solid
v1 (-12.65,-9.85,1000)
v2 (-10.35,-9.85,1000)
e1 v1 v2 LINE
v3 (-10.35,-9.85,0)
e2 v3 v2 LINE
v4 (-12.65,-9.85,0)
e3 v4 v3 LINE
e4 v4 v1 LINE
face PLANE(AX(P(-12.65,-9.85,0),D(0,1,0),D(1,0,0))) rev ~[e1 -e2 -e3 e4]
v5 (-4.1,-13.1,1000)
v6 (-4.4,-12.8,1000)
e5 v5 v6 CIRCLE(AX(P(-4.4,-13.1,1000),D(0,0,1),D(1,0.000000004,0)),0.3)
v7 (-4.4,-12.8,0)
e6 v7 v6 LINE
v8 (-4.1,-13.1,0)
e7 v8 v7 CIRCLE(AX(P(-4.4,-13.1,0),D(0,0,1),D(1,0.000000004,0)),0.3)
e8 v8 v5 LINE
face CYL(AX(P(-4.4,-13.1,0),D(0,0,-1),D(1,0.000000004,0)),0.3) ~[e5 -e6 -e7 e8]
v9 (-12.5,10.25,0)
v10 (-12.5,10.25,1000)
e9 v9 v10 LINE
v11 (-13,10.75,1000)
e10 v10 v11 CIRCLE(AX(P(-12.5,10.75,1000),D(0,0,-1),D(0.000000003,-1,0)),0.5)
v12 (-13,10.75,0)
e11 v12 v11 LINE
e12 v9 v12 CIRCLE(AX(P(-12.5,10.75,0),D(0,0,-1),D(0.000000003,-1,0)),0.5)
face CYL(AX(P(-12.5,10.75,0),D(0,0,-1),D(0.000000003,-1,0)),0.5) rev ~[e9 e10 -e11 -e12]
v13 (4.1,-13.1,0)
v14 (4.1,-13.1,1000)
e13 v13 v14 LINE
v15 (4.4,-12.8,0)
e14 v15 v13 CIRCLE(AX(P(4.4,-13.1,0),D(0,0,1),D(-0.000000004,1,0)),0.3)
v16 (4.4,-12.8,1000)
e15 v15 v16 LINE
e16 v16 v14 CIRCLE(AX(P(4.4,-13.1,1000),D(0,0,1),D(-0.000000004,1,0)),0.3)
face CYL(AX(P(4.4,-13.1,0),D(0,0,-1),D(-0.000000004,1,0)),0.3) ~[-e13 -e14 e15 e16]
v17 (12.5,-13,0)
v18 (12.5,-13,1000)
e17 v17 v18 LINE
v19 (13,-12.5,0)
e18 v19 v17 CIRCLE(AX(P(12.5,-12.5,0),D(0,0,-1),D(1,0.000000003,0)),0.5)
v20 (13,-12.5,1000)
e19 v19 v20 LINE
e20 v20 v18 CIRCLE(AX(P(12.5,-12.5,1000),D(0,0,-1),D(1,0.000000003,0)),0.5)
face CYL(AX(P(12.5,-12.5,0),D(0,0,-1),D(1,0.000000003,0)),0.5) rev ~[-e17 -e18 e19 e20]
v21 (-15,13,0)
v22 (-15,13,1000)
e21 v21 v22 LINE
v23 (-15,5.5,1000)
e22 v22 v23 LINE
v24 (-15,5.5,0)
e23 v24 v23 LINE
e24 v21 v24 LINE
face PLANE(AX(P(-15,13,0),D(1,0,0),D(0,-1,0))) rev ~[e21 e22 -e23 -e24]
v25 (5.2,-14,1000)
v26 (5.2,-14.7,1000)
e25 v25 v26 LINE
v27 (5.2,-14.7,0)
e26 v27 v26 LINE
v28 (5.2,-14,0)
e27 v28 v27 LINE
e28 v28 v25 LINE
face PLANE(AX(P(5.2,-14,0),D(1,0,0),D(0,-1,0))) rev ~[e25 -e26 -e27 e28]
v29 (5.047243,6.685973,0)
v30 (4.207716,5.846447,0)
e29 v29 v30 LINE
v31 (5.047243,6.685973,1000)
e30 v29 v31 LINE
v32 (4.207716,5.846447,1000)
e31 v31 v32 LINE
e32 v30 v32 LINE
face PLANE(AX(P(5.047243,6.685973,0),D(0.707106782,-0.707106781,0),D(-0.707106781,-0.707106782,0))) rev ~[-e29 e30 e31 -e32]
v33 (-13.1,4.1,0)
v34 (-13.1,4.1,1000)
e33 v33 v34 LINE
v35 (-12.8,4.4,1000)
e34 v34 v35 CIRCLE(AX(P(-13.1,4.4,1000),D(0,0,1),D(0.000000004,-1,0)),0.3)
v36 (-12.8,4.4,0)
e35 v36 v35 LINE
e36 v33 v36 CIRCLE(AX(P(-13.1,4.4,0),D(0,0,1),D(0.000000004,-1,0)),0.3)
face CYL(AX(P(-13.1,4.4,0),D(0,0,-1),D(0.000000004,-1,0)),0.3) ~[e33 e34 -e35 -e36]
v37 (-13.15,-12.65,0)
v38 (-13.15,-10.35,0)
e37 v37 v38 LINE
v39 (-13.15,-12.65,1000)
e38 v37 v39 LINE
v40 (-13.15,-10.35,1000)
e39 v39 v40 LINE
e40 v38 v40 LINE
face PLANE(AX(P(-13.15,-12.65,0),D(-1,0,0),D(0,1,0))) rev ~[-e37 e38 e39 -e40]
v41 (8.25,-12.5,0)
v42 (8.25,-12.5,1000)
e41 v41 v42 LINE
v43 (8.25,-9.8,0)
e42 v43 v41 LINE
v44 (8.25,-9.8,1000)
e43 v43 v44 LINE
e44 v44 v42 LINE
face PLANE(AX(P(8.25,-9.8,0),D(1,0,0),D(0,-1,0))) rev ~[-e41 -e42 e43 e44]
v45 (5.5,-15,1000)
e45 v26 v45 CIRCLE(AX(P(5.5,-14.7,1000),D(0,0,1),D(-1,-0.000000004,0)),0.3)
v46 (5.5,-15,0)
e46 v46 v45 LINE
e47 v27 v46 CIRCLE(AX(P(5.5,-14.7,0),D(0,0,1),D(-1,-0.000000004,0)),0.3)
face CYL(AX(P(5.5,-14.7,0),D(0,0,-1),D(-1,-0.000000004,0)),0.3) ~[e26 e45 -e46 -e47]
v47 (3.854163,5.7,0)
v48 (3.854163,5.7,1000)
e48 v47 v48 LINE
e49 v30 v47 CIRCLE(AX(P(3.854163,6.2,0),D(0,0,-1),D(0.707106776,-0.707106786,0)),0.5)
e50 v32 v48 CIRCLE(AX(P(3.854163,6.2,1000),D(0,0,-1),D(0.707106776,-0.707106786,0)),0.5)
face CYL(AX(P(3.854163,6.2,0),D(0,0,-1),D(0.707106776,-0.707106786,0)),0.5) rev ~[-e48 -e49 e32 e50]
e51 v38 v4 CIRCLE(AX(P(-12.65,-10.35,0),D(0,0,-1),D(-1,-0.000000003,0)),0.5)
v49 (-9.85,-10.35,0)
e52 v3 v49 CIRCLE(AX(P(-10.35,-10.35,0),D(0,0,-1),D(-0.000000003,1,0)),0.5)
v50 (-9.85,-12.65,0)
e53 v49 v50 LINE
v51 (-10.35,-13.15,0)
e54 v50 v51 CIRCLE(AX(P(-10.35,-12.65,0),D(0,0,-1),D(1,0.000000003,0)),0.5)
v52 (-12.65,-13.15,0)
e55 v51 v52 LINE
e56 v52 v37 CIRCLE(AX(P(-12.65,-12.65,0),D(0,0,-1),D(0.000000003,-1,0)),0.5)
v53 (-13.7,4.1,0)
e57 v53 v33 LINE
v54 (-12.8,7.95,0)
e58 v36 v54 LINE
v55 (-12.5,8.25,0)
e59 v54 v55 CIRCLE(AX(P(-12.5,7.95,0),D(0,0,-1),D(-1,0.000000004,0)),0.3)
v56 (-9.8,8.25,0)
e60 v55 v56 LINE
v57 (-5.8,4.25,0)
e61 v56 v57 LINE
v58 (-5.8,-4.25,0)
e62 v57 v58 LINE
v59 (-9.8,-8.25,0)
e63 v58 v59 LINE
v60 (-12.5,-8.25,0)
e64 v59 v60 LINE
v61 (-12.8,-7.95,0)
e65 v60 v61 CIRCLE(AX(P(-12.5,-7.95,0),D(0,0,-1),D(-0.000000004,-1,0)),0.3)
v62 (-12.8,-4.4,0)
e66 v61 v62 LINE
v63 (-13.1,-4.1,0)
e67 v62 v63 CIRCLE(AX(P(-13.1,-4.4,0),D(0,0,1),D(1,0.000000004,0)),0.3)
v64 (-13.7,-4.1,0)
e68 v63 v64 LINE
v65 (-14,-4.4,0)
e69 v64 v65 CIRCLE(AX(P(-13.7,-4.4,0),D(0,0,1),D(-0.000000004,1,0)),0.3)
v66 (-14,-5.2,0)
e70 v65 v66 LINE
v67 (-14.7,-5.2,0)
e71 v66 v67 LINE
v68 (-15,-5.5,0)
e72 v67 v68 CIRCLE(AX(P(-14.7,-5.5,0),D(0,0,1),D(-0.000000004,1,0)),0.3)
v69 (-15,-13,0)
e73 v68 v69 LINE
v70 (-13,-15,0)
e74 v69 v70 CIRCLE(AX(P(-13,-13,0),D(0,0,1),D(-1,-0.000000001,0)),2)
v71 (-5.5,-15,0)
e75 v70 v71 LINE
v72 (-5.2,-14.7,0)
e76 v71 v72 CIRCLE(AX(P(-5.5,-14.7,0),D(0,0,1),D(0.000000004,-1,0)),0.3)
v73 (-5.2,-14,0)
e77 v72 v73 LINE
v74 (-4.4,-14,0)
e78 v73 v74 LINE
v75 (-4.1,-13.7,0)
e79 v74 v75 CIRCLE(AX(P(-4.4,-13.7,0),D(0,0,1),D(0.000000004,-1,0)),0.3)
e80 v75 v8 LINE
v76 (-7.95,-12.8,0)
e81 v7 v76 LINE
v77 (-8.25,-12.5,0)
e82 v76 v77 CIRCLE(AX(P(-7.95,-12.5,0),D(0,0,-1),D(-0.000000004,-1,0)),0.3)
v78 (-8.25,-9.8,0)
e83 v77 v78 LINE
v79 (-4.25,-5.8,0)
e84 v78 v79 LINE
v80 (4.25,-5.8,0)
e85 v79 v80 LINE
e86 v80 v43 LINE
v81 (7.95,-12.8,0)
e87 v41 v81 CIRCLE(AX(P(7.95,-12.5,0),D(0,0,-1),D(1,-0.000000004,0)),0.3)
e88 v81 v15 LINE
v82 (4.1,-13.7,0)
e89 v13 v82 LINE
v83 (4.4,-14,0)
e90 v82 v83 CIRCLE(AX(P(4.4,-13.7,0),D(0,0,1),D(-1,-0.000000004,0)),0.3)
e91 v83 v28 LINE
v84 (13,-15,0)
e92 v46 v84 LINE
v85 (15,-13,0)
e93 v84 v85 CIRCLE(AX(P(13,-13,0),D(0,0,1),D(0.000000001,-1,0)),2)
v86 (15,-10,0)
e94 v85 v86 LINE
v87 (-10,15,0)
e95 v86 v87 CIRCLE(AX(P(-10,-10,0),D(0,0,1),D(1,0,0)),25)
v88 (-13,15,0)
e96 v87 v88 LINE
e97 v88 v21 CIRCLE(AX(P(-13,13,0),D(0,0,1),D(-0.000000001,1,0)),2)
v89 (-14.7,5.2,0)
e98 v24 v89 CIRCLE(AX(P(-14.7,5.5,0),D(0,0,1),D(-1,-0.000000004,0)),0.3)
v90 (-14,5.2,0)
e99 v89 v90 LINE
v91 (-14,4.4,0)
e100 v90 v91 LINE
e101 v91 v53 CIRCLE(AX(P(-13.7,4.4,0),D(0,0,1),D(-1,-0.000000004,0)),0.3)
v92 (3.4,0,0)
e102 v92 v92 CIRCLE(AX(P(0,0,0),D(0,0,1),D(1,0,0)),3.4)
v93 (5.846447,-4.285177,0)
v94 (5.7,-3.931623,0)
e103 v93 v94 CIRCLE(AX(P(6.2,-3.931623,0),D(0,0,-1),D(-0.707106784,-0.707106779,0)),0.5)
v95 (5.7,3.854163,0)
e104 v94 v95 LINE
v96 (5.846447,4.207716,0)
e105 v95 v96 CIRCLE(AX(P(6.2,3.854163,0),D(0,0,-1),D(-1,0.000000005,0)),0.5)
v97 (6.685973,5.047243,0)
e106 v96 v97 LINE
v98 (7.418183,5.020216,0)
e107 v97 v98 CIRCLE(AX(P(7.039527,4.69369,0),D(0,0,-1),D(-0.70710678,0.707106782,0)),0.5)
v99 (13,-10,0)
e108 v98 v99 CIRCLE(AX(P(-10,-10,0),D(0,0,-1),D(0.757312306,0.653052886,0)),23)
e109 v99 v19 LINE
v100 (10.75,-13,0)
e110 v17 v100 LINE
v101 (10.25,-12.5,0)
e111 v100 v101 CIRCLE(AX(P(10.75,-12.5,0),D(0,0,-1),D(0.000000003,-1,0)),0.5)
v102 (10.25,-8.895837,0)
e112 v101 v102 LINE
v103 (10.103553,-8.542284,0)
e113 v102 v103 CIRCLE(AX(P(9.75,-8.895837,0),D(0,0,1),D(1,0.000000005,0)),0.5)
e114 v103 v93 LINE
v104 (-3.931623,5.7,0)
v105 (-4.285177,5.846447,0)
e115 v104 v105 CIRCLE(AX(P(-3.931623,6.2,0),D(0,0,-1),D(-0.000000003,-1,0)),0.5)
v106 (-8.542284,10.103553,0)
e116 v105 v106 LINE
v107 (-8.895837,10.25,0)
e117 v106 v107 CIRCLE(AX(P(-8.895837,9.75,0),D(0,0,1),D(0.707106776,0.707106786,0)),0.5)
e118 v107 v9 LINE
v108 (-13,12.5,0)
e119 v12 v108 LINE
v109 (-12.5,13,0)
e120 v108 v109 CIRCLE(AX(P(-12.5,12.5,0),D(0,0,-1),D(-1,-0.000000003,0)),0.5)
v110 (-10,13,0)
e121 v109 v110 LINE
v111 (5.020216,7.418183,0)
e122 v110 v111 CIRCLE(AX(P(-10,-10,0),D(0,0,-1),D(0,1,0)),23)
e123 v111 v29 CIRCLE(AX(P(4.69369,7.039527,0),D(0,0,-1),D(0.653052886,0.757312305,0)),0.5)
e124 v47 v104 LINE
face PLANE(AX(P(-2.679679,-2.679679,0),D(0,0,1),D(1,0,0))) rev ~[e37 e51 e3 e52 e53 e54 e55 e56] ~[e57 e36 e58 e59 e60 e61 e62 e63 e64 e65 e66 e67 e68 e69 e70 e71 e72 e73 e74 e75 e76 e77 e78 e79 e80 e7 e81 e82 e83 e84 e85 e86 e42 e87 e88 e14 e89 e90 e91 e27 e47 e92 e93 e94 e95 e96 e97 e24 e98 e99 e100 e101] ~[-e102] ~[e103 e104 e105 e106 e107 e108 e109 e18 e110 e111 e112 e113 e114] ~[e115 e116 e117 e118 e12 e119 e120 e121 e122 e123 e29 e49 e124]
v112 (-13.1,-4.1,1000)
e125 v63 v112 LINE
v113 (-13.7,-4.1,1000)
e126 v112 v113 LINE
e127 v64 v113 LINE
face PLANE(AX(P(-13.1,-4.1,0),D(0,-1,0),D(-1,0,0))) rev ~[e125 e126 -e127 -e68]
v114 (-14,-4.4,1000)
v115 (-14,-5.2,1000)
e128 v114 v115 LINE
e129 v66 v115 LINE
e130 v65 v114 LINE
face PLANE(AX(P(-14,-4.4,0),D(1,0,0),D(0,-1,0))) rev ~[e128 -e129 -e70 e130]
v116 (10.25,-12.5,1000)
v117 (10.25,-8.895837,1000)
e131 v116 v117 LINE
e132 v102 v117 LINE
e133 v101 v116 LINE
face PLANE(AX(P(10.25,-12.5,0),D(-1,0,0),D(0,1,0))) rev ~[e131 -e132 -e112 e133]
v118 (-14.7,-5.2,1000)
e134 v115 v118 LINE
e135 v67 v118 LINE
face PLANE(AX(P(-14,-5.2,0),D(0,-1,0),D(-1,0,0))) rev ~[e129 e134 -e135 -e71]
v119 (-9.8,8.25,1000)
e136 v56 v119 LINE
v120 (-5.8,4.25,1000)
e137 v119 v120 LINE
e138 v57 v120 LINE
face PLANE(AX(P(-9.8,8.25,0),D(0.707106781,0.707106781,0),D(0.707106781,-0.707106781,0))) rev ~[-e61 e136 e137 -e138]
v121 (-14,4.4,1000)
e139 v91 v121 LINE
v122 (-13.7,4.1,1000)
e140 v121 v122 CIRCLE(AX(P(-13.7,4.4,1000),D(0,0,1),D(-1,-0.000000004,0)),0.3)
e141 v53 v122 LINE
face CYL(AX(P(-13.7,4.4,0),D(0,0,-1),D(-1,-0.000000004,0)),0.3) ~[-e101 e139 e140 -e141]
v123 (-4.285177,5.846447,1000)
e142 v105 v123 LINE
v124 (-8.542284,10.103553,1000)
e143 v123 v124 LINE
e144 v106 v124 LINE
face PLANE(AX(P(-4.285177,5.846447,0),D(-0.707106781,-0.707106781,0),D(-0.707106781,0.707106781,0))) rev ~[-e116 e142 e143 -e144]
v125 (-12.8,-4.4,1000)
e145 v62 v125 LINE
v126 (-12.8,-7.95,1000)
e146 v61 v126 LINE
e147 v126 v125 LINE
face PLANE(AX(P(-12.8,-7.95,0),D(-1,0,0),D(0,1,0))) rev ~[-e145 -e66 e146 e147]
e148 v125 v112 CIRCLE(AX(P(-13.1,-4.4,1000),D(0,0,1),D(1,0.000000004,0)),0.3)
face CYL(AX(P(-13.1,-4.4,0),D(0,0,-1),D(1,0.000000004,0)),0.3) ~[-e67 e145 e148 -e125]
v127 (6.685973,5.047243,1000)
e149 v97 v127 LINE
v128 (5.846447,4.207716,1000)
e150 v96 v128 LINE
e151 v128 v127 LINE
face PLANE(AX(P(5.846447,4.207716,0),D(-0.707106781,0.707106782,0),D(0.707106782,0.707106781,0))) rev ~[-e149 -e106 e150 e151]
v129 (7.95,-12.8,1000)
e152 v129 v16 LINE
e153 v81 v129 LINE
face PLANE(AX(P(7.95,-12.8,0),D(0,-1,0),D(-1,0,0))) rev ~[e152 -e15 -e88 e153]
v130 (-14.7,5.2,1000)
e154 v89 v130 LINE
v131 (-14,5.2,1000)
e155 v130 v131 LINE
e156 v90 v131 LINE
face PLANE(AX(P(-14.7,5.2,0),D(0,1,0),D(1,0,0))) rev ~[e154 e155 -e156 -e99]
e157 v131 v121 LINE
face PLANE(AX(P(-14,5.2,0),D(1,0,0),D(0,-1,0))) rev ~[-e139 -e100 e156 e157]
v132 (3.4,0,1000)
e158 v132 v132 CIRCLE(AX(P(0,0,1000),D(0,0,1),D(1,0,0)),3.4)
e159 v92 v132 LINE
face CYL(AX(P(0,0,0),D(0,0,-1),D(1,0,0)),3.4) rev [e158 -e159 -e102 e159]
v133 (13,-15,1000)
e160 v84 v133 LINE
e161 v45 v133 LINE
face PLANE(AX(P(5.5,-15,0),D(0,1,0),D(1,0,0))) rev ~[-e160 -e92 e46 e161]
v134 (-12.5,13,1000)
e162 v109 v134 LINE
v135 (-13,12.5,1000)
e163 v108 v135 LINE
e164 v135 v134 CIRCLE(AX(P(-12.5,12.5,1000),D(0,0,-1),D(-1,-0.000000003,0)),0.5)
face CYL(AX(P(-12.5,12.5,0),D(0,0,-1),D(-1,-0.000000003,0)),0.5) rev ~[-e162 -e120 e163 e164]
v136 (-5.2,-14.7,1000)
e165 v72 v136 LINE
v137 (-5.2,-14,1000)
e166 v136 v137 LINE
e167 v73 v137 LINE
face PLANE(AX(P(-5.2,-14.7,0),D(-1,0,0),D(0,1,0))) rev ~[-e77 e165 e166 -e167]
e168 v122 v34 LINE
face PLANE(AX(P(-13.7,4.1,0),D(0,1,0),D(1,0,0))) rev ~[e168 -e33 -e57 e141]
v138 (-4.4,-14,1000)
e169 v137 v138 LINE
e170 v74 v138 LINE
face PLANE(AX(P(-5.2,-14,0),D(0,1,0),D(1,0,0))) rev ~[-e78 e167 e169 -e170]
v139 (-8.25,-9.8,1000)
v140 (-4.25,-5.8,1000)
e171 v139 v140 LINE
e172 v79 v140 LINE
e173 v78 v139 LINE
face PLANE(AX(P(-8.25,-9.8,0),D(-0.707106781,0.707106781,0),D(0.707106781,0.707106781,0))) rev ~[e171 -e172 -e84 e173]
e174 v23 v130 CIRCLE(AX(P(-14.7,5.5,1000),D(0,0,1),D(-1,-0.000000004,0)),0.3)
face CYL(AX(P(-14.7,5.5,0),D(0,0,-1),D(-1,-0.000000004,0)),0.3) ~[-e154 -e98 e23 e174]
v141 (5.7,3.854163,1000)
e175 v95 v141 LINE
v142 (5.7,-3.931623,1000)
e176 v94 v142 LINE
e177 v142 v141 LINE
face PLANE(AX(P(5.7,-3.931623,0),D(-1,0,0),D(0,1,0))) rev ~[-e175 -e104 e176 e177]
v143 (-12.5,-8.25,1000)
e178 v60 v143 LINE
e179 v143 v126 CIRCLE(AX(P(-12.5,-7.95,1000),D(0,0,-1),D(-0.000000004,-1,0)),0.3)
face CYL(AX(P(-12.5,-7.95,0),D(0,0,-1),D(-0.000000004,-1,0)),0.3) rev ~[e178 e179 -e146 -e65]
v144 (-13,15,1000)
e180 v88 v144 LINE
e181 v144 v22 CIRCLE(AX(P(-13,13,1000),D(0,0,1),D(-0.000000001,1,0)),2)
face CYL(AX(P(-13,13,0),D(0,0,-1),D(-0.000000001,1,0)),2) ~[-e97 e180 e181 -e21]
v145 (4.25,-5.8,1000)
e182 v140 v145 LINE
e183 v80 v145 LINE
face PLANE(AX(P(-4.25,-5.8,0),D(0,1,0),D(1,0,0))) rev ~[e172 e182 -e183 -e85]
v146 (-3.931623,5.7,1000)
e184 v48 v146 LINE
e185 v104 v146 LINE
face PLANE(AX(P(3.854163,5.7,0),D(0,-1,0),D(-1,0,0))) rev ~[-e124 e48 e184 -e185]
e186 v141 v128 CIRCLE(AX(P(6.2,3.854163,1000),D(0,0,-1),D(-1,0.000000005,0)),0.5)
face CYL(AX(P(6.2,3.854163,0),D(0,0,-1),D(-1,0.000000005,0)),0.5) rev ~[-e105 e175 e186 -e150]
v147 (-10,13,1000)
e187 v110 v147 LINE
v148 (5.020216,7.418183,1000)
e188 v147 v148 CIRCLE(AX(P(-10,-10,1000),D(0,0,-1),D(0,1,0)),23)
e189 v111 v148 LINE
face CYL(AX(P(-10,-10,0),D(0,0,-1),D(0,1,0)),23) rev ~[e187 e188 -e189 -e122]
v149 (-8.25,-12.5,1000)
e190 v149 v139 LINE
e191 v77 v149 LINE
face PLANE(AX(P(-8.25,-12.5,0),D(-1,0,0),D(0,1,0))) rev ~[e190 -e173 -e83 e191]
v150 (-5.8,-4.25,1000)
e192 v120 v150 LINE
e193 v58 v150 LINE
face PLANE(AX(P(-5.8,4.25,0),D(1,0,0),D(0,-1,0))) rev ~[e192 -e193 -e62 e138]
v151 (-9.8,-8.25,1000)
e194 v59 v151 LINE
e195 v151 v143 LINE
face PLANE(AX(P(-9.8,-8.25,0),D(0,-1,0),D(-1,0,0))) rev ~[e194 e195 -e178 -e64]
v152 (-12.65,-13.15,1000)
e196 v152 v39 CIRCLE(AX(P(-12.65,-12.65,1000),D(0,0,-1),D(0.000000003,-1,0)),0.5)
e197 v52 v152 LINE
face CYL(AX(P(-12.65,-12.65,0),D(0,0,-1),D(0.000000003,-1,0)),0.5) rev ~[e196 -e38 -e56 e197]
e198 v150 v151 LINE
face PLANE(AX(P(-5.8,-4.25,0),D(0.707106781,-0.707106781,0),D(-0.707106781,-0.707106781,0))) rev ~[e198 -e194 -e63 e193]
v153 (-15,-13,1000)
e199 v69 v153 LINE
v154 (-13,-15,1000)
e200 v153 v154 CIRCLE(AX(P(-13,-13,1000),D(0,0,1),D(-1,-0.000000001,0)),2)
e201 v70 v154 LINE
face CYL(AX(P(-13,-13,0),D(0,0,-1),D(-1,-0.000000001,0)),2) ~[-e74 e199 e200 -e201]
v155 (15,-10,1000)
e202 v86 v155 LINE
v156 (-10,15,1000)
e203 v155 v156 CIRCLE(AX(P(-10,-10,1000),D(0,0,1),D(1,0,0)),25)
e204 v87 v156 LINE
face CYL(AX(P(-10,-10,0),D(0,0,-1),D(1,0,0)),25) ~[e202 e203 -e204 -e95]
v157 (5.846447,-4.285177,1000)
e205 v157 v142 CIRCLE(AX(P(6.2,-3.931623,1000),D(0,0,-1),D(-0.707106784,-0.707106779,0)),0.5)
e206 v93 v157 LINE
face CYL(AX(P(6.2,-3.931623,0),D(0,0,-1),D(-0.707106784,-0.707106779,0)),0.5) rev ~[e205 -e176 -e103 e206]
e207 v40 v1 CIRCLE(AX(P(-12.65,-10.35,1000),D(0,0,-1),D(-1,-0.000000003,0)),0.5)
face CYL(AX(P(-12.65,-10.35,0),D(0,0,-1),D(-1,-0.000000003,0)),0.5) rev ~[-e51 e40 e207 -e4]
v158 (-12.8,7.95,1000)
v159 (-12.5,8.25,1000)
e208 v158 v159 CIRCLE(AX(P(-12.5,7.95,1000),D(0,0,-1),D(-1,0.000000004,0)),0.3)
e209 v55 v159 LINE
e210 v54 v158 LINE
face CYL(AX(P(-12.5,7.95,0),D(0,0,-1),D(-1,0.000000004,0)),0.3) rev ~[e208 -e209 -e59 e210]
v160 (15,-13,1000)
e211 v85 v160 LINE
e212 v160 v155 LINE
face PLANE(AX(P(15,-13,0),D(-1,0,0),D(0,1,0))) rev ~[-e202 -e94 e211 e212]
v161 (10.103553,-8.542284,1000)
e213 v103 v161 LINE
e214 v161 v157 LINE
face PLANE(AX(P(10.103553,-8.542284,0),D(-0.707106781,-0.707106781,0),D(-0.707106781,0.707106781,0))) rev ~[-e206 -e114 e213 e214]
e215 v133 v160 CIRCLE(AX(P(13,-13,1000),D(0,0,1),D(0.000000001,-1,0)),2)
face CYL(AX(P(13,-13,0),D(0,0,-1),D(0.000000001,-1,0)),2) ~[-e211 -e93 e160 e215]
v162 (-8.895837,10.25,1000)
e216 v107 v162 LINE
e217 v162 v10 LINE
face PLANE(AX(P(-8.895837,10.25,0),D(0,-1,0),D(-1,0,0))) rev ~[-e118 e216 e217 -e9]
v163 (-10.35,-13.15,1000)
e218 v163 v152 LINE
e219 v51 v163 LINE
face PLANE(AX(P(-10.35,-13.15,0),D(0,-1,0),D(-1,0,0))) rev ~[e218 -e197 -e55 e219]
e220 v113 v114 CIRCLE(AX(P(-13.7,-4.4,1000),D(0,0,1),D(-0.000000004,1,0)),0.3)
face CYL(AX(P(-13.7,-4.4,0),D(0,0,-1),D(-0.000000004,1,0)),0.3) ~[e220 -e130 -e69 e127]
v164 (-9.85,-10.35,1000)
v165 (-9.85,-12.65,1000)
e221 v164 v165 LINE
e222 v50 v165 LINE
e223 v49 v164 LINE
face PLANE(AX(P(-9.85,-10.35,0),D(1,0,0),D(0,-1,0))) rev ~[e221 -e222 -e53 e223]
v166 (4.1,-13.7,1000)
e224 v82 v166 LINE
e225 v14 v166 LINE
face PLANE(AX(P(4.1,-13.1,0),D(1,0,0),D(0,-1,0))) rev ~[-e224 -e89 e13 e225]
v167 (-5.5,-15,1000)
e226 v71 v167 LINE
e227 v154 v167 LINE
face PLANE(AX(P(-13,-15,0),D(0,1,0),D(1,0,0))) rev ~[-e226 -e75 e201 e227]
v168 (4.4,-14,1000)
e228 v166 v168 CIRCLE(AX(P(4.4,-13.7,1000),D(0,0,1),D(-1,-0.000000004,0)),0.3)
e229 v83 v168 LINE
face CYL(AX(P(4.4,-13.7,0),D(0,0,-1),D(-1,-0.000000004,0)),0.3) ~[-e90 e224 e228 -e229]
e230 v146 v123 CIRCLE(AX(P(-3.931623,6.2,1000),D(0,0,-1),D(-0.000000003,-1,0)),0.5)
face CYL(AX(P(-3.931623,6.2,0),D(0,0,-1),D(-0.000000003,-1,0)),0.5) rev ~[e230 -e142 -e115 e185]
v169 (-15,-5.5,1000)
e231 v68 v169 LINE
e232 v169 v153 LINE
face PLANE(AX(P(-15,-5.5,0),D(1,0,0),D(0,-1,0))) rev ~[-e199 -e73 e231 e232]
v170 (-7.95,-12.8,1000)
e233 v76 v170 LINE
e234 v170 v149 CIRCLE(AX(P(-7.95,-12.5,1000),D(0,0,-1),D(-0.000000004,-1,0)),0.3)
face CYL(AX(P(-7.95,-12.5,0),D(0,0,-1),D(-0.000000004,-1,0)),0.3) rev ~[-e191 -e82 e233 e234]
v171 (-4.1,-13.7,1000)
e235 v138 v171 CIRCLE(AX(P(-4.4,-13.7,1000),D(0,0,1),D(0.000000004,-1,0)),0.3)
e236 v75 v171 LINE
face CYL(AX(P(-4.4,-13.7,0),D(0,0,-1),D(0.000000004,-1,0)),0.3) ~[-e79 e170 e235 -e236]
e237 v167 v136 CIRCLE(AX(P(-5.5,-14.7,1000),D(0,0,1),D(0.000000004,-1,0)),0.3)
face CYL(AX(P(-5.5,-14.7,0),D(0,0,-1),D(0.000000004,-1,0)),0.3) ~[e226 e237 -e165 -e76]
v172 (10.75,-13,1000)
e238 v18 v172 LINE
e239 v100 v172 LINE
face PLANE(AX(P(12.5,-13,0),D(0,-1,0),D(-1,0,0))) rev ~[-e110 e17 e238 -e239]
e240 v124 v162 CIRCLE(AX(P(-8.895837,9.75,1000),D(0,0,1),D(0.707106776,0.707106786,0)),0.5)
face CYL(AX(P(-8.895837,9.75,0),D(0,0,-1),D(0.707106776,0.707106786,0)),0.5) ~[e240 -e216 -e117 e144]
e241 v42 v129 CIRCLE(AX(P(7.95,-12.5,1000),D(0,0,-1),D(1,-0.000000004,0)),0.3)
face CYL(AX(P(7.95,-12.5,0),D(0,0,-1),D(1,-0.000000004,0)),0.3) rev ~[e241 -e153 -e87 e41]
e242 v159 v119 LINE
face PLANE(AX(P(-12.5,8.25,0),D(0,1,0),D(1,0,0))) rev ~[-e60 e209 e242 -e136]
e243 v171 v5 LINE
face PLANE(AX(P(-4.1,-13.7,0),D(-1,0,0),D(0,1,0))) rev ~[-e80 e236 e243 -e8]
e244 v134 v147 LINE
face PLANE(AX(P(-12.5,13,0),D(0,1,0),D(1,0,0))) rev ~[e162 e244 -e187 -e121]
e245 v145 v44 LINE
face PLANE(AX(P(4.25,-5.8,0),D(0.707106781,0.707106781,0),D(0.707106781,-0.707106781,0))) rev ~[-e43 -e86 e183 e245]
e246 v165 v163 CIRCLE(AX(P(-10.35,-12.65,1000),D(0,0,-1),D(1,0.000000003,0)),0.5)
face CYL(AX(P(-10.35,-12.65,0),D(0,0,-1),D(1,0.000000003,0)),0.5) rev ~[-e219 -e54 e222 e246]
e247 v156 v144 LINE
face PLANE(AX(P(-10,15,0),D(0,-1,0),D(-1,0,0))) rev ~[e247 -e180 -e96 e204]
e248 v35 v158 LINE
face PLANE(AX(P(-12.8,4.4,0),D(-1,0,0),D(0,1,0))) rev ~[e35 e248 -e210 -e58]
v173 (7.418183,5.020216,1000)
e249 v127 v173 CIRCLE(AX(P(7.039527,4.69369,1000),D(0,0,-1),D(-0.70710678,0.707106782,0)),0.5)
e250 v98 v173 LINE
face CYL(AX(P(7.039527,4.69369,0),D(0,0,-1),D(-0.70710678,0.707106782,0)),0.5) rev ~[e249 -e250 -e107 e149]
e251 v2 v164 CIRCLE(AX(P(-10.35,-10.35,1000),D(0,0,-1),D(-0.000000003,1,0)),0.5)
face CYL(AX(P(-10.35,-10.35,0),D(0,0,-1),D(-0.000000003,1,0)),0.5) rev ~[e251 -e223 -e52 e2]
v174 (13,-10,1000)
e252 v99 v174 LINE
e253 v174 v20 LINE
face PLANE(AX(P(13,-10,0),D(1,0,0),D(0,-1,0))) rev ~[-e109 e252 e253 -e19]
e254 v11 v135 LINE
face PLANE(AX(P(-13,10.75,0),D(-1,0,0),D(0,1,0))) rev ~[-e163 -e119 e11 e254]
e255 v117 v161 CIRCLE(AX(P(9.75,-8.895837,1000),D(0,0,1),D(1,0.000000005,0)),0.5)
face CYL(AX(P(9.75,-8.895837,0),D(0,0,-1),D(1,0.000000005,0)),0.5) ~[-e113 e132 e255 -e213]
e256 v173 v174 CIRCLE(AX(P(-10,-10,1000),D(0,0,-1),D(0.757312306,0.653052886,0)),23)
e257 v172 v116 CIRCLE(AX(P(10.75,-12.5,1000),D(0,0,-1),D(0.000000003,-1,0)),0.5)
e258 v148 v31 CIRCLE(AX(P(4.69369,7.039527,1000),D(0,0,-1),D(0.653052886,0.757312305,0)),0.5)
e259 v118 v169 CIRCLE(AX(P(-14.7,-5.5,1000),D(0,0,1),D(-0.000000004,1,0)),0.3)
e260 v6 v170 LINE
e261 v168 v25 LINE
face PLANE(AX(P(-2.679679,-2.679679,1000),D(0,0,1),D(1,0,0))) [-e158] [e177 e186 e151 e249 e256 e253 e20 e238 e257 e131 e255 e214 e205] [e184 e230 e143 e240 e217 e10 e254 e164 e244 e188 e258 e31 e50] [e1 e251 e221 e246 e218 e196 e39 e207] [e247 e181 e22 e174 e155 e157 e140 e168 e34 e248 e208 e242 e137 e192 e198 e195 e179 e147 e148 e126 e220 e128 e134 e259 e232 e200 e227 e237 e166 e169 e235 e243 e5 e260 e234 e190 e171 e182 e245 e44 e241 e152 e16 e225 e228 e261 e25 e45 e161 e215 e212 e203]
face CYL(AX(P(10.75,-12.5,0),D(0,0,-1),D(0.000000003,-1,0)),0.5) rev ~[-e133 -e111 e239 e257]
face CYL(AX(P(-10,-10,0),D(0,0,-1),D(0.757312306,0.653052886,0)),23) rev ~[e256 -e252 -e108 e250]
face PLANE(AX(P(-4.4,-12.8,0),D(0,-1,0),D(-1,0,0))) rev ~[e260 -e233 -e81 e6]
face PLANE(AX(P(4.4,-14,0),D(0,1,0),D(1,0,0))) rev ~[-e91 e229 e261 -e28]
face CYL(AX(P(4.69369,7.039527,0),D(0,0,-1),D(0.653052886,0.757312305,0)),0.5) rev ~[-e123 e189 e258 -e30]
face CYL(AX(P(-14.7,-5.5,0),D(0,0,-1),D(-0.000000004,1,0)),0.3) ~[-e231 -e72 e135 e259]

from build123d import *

# Parameters (mm, degrees)
SKETCH_1_R      = 3.4
EXTRUDE_1_DEPTH = 1000


with BuildPart() as part:
    # Эскиз1 → Бобышка-Вытянуть1 (new body)
    with BuildSketch(Plane.XY):
        with BuildLine():
            Line((-15, -5.5), (-15, -8.25))
            Line((-15, -8.25), (-15, -13))
            ThreePointArc((-15, -13), (-14.414213562, -14.414213562), (-13, -15))
            Line((-13, -15), (-8.25, -15))
            Line((-8.25, -15), (-5.5, -15))
            ThreePointArc((-5.5, -15), (-5.287867966, -14.912132034), (-5.2, -14.7))
            Line((-5.2, -14.7), (-5.2, -14))
            Line((-5.2, -14), (-4.4, -14))
            ThreePointArc((-4.4, -14), (-4.187867966, -13.912132034), (-4.1, -13.7))
            Line((-4.1, -13.7), (-4.1, -13.1))
            ThreePointArc((-4.1, -13.1), (-4.187867966, -12.887867966), (-4.4, -12.8))
            Line((-4.4, -12.8), (-7.95, -12.8))
            ThreePointArc((-7.95, -12.8), (-8.162132034, -12.712132034), (-8.25, -12.5))
            Line((-8.25, -12.5), (-8.25, -9.8))
            Line((-8.25, -9.8), (-4.25, -5.8))
            Line((-4.25, -5.8), (4.25, -5.8))
            Line((4.25, -5.8), (8.25, -9.8))
            Line((8.25, -9.8), (8.25, -12.5))
            ThreePointArc((8.25, -12.5), (8.162132034, -12.712132034), (7.95, -12.8))
            Line((7.95, -12.8), (4.4, -12.8))
            ThreePointArc((4.4, -12.8), (4.187867966, -12.887867966), (4.1, -13.1))
            Line((4.1, -13.1), (4.1, -13.7))
            ThreePointArc((4.1, -13.7), (4.187867966, -13.912132034), (4.4, -14))
            Line((4.4, -14), (5.2, -14))
            Line((5.2, -14), (5.2, -14.7))
            ThreePointArc((5.2, -14.7), (5.287867966, -14.912132034), (5.5, -15))
            Line((5.5, -15), (8.25, -15))
            Line((8.25, -15), (13, -15))
            ThreePointArc((13, -15), (14.414213562, -14.414213562), (15, -13))
            Line((15, -13), (15, -10))
            ThreePointArc((15, -10), (7.67766953, 7.67766953), (-10, 15))
            Line((-10, 15), (-13, 15))
            ThreePointArc((-13, 15), (-14.414213562, 14.414213562), (-15, 13))
            Line((-15, 13), (-15, 8.25))
            Line((-15, 8.25), (-15, 5.5))
            ThreePointArc((-15, 5.5), (-14.912132034, 5.287867966), (-14.7, 5.2))
            Line((-14.7, 5.2), (-14, 5.2))
            Line((-14, 5.2), (-14, 4.4))
            ThreePointArc((-14, 4.4), (-13.912132034, 4.187867966), (-13.7, 4.1))
            Line((-13.7, 4.1), (-13.1, 4.1))
            ThreePointArc((-13.1, 4.1), (-12.887867966, 4.187867966), (-12.8, 4.4))
            Line((-12.8, 4.4), (-12.8, 7.95))
            ThreePointArc((-12.8, 7.95), (-12.712132034, 8.162132034), (-12.5, 8.25))
            Line((-12.5, 8.25), (-9.8, 8.25))
            Line((-9.8, 8.25), (-5.8, 4.25))
            Line((-5.8, 4.25), (-5.8, -4.25))
            Line((-5.8, -4.25), (-9.8, -8.25))
            Line((-9.8, -8.25), (-12.5, -8.25))
            ThreePointArc((-12.5, -8.25), (-12.712132034, -8.162132034), (-12.8, -7.95))
            Line((-12.8, -7.95), (-12.8, -4.4))
            ThreePointArc((-12.8, -4.4), (-12.887867966, -4.187867966), (-13.1, -4.1))
            Line((-13.1, -4.1), (-13.7, -4.1))
            ThreePointArc((-13.7, -4.1), (-13.912132034, -4.187867966), (-14, -4.4))
            Line((-14, -4.4), (-14, -5.2))
            Line((-14, -5.2), (-14.7, -5.2))
            ThreePointArc((-14.7, -5.2), (-14.912132034, -5.287867966), (-15, -5.5))
        make_face()
        with BuildLine():
            ThreePointArc((-13.15, -10.35), (-13.003553391, -9.996446609), (-12.65, -9.85))
            Line((-12.65, -9.85), (-10.35, -9.85))
            ThreePointArc((-10.35, -9.85), (-9.996446609, -9.996446609), (-9.85, -10.35))
            Line((-9.85, -10.35), (-9.85, -12.65))
            ThreePointArc((-9.85, -12.65), (-9.996446609, -13.003553391), (-10.35, -13.15))
            Line((-10.35, -13.15), (-12.65, -13.15))
            ThreePointArc((-12.65, -13.15), (-13.003553391, -13.003553391), (-13.15, -12.65))
            Line((-13.15, -12.65), (-13.15, -10.35))
        make_face(mode=Mode.SUBTRACT)
        Circle(SKETCH_1_R, mode=Mode.SUBTRACT)
        with BuildLine():
            Line((13, -10), (13, -12.5))
            ThreePointArc((13, -12.5), (12.853553391, -12.853553391), (12.5, -13))
            Line((12.5, -13), (10.75, -13))
            ThreePointArc((10.75, -13), (10.396446609, -12.853553391), (10.25, -12.5))
            Line((10.25, -12.5), (10.25, -8.895836944))
            ThreePointArc((10.25, -8.895836944), (10.211939766, -8.704495228), (10.103553391, -8.542283553))
            Line((10.103553391, -8.542283553), (5.846446609, -4.285176772))
            ThreePointArc((5.846446609, -4.285176772), (5.738060234, -4.122965098), (5.7, -3.931623382))
            Line((5.7, -3.931623382), (5.7, 3.854163056))
            ThreePointArc((5.7, 3.854163056), (5.738060234, 4.045504772), (5.846446609, 4.207716447))
            Line((5.846446609, 4.207716447), (6.685973486, 5.047243323))
            ThreePointArc((6.685973486, 5.047243323), (7.057970063, 5.193349665), (7.418183029, 5.020216375))
            ThreePointArc((7.418183029, 5.020216375), (11.559431923, -1.988077936), (13, -10))
        make_face(mode=Mode.SUBTRACT)
        with BuildLine():
            Line((-13, 10.75), (-13, 12.5))
            ThreePointArc((-13, 12.5), (-12.853553391, 12.853553391), (-12.5, 13))
            Line((-12.5, 13), (-10, 13))
            ThreePointArc((-10, 13), (-1.988077936, 11.559431923), (5.020216375, 7.418183029))
            ThreePointArc((5.020216375, 7.418183029), (5.193349665, 7.057970063), (5.047243323, 6.685973486))
            Line((5.047243323, 6.685973486), (4.207716447, 5.846446609))
            ThreePointArc((4.207716447, 5.846446609), (4.045504772, 5.738060234), (3.854163056, 5.7))
            Line((3.854163056, 5.7), (-3.931623382, 5.7))
            ThreePointArc((-3.931623382, 5.7), (-4.122965098, 5.738060234), (-4.285176772, 5.846446609))
            Line((-4.285176772, 5.846446609), (-8.542283553, 10.103553391))
            ThreePointArc((-8.542283553, 10.103553391), (-8.704495228, 10.211939766), (-8.895836944, 10.25))
            Line((-8.895836944, 10.25), (-12.5, 10.25))
            ThreePointArc((-12.5, 10.25), (-12.853553391, 10.396446609), (-13, 10.75))
        make_face(mode=Mode.SUBTRACT)
    extrude(amount=EXTRUDE_1_DEPTH)


solid = part.part
